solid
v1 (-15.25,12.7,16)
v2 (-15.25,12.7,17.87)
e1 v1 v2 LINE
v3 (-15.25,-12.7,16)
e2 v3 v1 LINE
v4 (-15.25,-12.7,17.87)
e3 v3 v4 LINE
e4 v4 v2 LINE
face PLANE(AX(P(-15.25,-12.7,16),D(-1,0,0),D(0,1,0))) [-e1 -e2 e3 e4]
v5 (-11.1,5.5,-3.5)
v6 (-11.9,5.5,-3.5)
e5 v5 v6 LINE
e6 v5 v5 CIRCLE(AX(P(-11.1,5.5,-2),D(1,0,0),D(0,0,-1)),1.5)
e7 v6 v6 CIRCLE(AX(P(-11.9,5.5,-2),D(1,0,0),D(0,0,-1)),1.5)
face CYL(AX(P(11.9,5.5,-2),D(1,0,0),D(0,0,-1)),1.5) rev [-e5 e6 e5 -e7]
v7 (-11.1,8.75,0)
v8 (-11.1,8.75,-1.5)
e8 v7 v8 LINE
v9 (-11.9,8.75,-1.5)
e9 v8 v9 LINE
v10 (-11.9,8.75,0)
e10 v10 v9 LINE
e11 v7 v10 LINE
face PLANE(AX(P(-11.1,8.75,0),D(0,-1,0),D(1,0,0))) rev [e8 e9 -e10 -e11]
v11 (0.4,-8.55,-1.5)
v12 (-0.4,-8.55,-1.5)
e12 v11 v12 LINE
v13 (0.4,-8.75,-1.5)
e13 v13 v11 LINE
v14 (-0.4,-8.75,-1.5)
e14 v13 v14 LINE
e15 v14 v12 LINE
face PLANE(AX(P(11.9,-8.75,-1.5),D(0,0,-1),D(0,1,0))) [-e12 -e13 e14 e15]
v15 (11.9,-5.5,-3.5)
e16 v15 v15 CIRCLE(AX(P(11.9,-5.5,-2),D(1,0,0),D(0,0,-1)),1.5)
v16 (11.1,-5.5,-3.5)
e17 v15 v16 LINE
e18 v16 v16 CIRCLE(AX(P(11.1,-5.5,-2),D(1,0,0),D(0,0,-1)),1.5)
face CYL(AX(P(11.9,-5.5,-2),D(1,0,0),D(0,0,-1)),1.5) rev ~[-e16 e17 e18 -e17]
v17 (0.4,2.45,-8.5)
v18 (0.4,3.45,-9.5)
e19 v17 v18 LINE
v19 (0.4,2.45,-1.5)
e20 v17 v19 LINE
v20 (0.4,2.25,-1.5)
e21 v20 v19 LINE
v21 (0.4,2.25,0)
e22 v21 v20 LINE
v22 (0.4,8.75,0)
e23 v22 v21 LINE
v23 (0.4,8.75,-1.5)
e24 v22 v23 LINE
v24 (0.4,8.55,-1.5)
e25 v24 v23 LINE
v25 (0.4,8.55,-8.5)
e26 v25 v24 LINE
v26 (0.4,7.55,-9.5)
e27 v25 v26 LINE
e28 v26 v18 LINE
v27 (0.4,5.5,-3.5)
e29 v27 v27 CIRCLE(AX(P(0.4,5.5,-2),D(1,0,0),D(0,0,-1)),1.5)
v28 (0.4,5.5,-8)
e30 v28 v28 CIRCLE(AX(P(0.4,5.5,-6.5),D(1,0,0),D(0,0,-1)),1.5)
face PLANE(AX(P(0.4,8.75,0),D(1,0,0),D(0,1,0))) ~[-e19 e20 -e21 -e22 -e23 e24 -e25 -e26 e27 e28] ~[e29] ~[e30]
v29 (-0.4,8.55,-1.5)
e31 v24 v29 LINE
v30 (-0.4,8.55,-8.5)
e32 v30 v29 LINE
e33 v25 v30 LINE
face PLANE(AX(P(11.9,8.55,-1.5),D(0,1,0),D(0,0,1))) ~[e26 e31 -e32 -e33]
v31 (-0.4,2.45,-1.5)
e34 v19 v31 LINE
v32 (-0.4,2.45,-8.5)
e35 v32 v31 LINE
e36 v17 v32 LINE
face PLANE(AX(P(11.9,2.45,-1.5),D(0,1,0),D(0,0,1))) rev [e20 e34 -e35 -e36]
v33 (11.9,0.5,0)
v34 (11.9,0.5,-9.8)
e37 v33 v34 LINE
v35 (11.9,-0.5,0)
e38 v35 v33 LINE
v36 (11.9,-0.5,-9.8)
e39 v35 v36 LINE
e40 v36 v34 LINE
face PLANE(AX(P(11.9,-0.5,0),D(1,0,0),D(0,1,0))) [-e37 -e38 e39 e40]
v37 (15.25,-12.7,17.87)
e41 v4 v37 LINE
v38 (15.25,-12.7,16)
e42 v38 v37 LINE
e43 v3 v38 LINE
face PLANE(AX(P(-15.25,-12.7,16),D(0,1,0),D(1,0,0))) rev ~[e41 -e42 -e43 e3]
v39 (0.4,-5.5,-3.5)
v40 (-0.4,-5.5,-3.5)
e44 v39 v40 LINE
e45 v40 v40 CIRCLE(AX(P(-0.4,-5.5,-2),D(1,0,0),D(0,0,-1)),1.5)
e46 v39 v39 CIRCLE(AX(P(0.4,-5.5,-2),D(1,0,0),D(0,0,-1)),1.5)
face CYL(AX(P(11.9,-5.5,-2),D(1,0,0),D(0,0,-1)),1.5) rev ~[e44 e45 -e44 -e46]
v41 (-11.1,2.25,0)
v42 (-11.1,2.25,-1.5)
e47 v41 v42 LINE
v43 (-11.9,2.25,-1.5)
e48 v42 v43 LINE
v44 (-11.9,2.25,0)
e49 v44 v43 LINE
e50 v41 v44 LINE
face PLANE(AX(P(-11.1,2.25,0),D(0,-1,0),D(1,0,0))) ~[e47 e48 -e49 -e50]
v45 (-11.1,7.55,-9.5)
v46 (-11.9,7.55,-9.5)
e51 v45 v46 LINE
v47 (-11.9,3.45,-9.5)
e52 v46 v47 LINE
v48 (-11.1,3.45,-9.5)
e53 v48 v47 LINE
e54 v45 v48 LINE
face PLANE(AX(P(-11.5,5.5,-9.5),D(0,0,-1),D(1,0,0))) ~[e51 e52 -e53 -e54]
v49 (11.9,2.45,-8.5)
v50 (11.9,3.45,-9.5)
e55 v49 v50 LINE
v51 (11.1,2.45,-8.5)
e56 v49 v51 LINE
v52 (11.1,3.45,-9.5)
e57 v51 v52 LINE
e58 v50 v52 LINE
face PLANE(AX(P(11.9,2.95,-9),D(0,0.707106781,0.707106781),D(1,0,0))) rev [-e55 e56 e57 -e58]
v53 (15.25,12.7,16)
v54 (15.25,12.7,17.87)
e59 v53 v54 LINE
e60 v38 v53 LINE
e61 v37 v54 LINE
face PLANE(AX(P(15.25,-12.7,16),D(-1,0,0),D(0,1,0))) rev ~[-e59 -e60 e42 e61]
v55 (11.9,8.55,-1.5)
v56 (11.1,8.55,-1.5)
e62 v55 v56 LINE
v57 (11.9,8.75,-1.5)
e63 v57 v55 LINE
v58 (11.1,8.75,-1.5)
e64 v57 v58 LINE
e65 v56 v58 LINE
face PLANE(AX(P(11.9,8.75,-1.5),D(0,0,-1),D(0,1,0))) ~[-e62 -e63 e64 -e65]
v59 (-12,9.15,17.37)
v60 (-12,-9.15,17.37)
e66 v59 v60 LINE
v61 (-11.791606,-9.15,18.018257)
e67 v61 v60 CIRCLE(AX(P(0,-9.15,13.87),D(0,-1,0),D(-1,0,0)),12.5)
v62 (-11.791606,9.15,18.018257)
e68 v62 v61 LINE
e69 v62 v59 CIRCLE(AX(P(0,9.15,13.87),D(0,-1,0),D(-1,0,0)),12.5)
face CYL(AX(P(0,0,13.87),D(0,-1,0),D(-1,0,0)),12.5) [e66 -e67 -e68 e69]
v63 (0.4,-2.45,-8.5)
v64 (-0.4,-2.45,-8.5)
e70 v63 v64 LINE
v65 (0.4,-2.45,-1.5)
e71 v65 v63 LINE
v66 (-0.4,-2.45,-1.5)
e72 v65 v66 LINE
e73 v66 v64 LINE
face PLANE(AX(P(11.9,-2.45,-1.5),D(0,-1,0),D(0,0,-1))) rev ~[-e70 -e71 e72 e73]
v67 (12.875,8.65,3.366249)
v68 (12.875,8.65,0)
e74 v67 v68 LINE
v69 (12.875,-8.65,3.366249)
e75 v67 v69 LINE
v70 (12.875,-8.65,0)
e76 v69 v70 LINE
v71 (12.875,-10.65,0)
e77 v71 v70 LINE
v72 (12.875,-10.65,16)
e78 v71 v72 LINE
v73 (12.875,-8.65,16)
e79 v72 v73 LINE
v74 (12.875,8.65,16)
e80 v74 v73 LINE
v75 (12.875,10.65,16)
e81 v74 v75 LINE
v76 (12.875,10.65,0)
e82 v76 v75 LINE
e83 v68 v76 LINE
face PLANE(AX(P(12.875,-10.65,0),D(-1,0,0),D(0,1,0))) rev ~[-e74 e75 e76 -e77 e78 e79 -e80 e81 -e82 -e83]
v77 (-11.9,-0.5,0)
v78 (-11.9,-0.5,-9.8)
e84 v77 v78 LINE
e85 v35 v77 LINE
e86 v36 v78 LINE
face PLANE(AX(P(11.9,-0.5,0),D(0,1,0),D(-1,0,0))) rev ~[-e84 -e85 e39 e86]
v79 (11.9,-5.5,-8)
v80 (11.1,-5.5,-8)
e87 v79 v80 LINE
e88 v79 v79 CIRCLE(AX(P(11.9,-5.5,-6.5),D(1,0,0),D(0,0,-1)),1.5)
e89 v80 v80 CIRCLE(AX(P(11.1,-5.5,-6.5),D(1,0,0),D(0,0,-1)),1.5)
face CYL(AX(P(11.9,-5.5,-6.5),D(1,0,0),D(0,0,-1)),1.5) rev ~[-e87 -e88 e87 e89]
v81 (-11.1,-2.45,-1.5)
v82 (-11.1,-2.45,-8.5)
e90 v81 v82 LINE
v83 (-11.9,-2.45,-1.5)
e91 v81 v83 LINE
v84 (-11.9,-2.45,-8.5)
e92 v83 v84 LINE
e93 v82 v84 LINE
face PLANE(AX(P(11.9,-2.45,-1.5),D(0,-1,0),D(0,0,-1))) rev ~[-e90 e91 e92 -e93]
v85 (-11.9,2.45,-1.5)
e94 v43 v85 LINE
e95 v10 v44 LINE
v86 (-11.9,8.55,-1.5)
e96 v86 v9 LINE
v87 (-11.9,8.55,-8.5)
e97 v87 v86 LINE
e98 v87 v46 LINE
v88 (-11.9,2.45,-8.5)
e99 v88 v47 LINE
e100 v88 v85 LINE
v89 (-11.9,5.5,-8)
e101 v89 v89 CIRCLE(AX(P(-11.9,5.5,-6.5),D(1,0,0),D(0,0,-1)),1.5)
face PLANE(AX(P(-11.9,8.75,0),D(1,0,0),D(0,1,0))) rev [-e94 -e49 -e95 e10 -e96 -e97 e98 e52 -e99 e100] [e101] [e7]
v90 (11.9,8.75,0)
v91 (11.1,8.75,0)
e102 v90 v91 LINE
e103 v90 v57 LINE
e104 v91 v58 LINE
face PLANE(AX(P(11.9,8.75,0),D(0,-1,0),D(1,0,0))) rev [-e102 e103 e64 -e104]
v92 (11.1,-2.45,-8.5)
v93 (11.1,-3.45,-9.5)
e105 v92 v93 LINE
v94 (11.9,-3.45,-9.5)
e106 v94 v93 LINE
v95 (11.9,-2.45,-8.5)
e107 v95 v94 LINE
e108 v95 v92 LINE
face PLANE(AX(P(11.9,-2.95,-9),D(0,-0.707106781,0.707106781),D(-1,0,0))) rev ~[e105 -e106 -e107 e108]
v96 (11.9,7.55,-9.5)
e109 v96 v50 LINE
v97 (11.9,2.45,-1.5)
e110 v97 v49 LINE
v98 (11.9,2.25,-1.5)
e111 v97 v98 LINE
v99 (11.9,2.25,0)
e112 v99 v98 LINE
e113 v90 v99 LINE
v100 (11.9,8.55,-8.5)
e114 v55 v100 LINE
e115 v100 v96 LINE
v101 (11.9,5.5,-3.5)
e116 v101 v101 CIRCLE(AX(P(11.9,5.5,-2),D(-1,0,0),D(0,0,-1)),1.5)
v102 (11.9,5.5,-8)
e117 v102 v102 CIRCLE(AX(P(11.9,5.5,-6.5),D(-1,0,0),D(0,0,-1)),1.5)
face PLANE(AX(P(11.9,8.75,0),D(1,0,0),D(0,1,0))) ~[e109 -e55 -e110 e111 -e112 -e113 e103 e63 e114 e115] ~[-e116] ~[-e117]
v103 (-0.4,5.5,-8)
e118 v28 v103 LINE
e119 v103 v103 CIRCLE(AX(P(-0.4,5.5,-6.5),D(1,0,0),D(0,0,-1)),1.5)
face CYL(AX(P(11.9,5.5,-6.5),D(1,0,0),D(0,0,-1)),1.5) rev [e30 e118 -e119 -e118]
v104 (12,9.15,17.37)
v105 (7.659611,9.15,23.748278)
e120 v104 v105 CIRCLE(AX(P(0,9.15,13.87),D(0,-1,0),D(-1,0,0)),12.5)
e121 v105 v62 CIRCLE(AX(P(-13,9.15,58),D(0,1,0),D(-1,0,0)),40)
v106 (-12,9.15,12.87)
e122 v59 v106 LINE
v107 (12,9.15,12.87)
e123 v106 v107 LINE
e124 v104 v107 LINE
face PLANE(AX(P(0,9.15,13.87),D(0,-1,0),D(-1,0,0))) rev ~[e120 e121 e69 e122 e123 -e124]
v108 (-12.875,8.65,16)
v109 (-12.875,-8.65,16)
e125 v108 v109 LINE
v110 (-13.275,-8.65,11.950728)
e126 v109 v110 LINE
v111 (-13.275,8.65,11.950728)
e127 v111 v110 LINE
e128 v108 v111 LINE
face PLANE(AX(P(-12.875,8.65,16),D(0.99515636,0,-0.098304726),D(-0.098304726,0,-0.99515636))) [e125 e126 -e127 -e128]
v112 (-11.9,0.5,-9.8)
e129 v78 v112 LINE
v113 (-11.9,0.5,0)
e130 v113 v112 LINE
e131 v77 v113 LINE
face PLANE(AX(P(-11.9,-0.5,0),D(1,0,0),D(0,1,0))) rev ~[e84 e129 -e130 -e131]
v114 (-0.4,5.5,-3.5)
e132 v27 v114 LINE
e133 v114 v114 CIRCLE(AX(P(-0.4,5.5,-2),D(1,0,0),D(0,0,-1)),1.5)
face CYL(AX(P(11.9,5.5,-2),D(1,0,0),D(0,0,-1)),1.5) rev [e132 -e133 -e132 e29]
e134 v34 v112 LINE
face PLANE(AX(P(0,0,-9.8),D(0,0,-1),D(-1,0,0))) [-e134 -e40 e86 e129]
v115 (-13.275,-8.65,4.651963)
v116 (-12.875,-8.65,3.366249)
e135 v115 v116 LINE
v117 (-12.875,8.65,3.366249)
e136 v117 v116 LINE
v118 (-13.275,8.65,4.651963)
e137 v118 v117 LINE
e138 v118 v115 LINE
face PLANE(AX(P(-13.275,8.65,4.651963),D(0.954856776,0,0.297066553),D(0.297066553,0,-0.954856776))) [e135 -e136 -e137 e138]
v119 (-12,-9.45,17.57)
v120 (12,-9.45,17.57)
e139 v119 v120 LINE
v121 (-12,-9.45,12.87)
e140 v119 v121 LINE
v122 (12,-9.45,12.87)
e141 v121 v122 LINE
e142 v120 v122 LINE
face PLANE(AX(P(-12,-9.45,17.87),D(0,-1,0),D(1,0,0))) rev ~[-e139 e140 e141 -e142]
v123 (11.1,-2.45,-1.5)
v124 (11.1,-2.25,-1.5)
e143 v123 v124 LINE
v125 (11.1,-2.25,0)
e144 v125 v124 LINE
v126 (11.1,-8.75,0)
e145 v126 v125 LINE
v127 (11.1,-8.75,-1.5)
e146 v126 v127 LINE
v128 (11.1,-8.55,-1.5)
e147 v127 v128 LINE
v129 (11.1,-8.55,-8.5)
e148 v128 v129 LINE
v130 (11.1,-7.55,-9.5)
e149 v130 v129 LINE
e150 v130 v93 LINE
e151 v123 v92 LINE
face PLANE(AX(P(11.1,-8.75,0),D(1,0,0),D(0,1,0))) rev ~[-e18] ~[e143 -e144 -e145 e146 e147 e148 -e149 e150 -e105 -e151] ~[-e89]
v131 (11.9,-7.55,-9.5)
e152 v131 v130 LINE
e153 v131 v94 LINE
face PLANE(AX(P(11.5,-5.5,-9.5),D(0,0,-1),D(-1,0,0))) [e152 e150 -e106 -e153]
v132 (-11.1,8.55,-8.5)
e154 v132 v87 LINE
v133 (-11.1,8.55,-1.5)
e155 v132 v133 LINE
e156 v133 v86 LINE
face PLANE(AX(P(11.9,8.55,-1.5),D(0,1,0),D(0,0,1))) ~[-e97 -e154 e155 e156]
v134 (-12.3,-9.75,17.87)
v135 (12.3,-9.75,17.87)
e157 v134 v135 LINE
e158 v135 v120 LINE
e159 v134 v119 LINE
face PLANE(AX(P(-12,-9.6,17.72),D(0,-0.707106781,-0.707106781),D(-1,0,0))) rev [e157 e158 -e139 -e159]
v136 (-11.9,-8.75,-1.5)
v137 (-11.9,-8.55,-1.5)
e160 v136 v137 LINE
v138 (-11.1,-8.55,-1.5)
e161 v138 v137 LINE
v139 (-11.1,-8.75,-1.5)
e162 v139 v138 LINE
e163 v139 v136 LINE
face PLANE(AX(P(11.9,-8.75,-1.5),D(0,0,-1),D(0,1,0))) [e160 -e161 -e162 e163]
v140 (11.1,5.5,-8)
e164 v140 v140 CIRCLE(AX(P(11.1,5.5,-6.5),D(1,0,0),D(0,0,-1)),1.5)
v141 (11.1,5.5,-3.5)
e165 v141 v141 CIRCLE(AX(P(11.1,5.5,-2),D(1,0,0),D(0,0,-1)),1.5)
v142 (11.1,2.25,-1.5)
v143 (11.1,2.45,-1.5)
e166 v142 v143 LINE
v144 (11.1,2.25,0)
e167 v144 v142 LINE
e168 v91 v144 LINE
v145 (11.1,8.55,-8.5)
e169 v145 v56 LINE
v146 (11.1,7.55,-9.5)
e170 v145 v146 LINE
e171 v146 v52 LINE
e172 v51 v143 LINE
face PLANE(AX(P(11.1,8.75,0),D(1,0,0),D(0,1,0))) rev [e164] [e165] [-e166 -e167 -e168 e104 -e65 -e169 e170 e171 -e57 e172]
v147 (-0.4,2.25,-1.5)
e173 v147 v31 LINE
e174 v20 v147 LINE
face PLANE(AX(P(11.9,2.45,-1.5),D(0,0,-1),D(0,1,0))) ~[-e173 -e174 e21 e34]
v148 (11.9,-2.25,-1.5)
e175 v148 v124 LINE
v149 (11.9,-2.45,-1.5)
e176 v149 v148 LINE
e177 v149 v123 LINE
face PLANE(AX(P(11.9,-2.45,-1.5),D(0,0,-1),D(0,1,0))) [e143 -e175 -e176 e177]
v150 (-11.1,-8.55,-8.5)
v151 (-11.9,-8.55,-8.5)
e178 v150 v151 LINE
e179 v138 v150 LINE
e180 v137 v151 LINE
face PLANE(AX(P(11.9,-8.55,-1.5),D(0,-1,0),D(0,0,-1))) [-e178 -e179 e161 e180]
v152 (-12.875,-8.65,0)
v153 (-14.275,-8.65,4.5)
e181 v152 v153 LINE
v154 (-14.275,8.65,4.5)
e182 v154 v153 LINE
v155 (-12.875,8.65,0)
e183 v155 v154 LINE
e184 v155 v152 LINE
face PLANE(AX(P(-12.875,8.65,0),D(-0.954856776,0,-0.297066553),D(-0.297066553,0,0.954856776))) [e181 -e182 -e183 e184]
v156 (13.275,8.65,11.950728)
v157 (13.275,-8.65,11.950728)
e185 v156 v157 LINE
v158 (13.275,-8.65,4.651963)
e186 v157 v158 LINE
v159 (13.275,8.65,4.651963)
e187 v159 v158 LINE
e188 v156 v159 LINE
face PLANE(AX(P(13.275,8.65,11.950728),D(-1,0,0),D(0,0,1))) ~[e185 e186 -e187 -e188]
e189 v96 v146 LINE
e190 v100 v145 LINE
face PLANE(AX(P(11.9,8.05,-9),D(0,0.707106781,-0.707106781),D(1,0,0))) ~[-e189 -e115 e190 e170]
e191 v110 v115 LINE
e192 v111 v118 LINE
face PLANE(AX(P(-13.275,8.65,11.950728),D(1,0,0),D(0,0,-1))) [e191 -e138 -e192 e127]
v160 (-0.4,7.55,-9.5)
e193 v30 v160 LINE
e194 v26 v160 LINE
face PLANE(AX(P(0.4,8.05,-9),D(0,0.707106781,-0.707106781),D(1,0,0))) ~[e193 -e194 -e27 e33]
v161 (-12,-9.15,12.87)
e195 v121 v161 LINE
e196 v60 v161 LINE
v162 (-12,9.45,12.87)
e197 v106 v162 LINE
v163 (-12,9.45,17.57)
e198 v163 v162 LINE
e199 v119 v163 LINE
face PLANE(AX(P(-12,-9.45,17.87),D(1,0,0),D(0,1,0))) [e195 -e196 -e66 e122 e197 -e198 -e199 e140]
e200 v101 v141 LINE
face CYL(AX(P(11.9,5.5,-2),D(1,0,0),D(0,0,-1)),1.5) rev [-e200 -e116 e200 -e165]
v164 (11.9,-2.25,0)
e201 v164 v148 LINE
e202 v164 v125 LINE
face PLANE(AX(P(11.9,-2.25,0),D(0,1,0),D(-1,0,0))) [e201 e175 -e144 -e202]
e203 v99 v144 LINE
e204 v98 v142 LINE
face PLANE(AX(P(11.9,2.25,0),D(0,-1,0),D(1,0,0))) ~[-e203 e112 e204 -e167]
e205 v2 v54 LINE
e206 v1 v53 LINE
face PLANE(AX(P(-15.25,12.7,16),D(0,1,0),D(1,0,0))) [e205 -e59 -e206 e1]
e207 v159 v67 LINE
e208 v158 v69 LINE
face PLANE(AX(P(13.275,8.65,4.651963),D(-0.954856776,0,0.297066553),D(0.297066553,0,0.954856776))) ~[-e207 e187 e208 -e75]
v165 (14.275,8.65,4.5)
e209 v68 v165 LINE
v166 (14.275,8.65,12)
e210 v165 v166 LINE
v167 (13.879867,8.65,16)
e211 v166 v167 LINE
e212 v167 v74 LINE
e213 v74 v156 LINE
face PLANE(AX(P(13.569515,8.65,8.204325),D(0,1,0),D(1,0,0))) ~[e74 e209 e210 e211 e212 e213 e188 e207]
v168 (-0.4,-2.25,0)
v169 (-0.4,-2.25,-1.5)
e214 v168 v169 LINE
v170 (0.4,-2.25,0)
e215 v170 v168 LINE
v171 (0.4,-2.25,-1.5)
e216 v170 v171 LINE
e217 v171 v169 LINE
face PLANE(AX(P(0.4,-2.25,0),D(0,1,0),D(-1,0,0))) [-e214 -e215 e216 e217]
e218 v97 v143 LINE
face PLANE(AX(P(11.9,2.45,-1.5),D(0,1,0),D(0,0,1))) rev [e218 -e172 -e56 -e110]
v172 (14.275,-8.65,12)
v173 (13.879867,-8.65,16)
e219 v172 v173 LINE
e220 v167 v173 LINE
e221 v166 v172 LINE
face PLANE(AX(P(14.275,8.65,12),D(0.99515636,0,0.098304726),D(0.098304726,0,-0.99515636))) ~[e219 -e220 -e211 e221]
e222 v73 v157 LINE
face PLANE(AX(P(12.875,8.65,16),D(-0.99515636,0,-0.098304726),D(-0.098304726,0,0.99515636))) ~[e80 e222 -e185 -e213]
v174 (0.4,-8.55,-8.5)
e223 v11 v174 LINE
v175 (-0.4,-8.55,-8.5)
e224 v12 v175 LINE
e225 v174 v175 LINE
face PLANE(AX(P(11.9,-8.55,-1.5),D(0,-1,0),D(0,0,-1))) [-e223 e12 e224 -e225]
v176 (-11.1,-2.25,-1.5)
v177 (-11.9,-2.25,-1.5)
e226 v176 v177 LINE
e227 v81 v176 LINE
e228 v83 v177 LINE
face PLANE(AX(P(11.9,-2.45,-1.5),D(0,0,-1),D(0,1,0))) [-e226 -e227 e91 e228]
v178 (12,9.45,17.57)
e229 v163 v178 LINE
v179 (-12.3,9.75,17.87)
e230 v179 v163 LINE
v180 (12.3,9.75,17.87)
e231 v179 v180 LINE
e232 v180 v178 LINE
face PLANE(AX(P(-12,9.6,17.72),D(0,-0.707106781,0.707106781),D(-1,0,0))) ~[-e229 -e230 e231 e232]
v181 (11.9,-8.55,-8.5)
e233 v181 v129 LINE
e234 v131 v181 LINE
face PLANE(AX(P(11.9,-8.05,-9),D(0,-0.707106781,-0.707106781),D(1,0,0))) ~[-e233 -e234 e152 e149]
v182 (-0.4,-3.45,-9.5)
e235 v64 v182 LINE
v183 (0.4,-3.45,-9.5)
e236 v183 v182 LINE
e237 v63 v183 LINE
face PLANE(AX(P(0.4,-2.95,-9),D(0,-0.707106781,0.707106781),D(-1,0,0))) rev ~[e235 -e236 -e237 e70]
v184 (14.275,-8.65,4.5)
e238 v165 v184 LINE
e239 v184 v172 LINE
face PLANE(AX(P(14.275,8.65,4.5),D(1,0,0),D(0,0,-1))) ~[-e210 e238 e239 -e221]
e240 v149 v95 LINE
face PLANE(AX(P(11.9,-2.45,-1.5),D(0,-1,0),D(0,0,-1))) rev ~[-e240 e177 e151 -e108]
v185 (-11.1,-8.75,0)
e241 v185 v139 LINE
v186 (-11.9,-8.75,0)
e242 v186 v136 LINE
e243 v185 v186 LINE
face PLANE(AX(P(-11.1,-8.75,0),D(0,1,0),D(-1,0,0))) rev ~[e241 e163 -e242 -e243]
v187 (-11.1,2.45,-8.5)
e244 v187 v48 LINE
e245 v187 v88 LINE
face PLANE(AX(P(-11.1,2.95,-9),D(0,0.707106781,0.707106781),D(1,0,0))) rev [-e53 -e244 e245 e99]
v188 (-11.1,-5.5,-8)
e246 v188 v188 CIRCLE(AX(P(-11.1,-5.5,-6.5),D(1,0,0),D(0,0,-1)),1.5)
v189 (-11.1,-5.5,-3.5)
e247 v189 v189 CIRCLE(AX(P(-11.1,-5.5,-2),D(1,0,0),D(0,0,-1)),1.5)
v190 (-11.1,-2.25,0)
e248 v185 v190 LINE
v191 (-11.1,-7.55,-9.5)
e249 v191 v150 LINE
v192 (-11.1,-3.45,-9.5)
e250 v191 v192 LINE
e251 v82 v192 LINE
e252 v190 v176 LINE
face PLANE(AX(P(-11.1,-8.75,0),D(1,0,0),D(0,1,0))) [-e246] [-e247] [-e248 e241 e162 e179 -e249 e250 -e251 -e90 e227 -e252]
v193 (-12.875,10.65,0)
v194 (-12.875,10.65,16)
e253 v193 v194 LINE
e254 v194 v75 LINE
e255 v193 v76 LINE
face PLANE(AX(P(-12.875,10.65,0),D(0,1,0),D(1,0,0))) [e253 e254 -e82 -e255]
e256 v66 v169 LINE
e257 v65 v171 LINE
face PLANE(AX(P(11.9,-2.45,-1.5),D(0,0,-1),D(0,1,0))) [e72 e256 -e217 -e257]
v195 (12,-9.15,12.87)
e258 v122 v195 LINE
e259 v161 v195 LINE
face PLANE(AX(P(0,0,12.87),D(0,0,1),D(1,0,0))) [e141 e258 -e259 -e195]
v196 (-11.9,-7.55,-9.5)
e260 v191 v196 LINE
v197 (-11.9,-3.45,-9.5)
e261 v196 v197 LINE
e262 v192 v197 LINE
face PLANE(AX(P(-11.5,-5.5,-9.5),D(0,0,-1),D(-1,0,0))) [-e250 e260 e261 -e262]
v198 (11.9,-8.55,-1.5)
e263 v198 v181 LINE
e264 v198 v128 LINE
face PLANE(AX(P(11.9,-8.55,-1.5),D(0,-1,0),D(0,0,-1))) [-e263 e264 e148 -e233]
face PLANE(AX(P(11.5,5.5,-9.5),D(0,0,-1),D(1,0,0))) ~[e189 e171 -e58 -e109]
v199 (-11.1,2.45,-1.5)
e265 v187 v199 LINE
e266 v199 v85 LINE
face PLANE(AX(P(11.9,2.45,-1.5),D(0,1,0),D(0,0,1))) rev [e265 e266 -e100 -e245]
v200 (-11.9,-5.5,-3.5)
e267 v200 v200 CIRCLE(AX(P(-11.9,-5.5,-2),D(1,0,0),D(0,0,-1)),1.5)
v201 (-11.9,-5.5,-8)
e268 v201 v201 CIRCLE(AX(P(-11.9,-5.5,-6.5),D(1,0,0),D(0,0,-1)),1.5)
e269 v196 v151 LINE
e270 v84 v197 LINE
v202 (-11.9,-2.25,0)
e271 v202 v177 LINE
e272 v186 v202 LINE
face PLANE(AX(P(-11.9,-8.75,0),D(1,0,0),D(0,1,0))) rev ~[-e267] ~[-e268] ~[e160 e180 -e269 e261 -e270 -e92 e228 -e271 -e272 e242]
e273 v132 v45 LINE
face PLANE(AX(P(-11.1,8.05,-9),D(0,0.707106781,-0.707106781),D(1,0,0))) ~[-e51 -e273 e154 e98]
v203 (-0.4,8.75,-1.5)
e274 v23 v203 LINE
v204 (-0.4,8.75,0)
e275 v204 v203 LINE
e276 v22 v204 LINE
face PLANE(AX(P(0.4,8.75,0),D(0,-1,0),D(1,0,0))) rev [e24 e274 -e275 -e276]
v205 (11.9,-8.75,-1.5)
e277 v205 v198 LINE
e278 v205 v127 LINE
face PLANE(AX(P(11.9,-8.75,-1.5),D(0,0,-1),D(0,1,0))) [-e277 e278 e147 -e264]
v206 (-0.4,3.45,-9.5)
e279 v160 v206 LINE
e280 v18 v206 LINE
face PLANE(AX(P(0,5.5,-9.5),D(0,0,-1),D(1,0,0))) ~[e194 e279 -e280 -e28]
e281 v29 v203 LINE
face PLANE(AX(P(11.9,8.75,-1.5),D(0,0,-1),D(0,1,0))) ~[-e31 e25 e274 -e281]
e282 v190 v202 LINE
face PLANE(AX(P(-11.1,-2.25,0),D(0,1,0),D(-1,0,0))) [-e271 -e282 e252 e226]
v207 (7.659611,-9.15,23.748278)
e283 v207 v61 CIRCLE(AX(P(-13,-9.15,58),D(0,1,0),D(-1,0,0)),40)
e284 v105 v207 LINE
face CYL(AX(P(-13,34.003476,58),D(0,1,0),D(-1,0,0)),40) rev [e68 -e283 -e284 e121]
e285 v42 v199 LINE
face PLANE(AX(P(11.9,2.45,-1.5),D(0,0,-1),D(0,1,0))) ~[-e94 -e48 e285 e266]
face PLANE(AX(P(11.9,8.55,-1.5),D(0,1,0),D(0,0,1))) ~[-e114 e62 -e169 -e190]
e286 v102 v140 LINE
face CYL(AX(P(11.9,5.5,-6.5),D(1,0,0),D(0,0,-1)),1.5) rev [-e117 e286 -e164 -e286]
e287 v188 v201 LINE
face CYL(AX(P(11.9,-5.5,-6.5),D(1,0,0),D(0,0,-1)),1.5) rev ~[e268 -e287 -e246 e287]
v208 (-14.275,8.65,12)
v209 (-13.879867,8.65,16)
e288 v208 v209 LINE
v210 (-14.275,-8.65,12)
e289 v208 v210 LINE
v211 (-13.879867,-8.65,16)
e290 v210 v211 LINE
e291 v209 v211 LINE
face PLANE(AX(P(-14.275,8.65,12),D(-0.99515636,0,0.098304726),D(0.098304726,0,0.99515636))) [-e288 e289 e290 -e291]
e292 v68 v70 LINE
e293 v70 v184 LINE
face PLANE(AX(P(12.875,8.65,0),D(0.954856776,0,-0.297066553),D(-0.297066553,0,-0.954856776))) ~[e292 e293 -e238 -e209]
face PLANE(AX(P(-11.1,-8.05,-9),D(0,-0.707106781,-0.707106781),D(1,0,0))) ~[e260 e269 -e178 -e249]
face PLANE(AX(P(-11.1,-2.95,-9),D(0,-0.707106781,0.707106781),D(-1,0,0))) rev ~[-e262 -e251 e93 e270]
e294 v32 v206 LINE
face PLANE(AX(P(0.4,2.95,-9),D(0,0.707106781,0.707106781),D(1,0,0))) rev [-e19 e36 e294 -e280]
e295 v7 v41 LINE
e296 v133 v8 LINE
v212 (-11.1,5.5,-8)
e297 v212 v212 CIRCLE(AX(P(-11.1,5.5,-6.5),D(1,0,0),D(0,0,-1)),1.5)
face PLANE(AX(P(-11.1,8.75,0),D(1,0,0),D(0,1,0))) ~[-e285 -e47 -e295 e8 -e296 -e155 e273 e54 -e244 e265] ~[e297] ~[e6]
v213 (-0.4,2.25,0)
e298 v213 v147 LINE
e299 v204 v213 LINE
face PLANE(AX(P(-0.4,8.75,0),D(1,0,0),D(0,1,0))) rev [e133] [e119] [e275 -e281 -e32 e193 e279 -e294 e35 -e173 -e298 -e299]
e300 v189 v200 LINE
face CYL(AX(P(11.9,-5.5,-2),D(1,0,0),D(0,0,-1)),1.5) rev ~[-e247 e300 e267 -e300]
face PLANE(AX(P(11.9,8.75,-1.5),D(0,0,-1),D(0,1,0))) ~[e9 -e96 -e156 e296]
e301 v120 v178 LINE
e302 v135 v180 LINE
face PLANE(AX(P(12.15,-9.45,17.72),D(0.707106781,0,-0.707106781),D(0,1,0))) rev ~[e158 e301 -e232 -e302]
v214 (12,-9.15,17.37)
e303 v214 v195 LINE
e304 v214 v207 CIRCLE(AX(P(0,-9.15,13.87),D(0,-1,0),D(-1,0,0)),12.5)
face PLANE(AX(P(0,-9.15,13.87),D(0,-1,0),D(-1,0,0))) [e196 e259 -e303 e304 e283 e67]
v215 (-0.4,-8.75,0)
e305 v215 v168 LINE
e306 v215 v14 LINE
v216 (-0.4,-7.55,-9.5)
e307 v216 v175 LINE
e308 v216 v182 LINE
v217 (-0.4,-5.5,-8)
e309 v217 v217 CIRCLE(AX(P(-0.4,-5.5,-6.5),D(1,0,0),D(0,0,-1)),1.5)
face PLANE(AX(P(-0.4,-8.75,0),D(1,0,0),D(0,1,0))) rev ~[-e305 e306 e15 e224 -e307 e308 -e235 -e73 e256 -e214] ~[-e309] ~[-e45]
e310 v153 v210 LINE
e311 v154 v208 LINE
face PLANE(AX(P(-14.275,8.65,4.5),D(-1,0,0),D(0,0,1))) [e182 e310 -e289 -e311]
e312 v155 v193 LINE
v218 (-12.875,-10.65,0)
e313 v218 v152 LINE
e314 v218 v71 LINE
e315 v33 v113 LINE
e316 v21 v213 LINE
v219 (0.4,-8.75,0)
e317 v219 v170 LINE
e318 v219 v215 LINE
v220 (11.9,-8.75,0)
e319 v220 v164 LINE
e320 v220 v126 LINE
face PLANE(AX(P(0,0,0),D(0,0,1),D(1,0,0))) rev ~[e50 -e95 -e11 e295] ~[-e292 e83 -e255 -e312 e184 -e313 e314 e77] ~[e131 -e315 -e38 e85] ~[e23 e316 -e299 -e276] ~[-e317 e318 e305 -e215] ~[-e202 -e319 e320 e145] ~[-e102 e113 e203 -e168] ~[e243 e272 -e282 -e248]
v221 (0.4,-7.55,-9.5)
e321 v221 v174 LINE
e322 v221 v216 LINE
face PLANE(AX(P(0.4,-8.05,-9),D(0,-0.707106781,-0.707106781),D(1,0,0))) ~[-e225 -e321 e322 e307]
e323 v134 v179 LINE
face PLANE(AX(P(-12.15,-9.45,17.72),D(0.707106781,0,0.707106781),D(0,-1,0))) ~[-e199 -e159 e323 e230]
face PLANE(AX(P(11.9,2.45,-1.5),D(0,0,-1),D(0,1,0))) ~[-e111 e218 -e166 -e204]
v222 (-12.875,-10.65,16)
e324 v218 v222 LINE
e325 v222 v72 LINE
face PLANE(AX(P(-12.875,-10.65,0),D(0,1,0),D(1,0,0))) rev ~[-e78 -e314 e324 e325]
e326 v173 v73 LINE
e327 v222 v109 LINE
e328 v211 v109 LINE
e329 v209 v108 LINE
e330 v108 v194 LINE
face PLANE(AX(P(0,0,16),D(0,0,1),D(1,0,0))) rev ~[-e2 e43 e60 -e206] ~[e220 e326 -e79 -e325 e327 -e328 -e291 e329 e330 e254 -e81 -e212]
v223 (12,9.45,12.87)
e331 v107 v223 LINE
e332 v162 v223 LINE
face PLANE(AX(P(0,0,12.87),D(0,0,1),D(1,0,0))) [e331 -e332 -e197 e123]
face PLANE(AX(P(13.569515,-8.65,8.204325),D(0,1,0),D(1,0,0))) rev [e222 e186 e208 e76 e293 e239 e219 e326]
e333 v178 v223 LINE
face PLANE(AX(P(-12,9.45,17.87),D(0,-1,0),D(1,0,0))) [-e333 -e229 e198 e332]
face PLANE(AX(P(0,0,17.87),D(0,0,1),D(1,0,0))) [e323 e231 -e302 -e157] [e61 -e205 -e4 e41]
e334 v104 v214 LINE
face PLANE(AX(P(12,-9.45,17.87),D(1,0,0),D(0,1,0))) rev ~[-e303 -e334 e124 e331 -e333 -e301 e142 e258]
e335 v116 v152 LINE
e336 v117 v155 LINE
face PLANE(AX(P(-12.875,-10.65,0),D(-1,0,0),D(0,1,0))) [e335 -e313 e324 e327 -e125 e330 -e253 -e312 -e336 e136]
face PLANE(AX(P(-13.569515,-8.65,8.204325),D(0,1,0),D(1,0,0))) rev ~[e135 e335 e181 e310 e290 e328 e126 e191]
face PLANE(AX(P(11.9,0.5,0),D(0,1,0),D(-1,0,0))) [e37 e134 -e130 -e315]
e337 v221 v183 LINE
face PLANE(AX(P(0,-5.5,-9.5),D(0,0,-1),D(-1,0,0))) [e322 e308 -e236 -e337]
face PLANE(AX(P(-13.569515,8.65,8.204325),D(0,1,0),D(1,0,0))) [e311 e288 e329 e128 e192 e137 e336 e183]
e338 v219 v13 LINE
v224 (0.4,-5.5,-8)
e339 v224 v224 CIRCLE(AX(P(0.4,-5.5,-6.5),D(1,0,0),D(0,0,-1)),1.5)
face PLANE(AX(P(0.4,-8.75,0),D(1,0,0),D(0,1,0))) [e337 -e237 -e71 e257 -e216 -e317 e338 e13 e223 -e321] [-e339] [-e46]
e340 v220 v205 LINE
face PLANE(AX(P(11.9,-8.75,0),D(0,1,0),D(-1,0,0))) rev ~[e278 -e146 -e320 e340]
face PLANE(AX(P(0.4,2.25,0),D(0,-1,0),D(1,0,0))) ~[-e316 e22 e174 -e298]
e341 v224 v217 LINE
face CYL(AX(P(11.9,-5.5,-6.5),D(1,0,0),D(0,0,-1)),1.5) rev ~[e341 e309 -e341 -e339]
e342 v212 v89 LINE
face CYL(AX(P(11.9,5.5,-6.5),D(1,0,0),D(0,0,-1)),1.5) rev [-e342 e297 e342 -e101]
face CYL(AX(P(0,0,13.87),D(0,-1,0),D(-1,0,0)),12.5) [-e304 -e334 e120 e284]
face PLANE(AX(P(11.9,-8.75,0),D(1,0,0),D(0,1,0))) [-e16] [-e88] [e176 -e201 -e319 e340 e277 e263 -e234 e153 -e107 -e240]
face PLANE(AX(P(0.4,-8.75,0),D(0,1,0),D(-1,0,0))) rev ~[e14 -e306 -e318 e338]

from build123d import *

# Parameters (mm, degrees)
SKETCH1_W                = 25.75
SKETCH1_H                = 21.3
BOSS_EXTRUDE1_DEPTH      = 16
SKETCH3_W                = 30.5
SKETCH3_H                = 25.4
BOSS_EXTRUDE3_DEPTH      = 1.87
SKETCH4_W                = 23.8
SKETCH4_H                = 1
BOSS_EXTRUDE4_DEPTH      = 9.8
SKETCH5_W                = 0.8
SKETCH5_H                = 6.5
BOSS_EXTRUDE5_DEPTH      = 9.5
SKETCH6_W                = 8
SKETCH6_H                = 0.2
CUT_EXTRUDE1_DEPTH       = 35.896266276
CHAMFER1_SIZE            = 1
SKETCH7_R                = 1.5
CUT_EXTRUDE2_DEPTH       = 35.896266276
CHAMFER1_OF_MIRROR1_SIZE = 1
BOSS_EXTRUDE6_START      = -2
BOSS_EXTRUDE6_DEPTH      = 17.3
SKETCH9_W                = 24
SKETCH9_H                = 18.9
CUT_EXTRUDE3_DEPTH       = 5
SKETCH10_R               = 12.5
BOSS_EXTRUDE7_DEPTH      = 9.15
CUT_EXTRUDE4_DEPTH       = 34.003475575
CUT_EXTRUDE4_DEPTH_BACK  = 34.003475575
SKETCH11_R               = 40
CHAMFER2_SIZE            = 0.3


with BuildPart() as part:
    # Sketch1 → Boss-Extrude1 (new body)
    with BuildSketch(Plane.XY):
        Rectangle(SKETCH1_W, SKETCH1_H)
    extrude(amount=BOSS_EXTRUDE1_DEPTH)

    # Sketch3 → Boss-Extrude3 (add)
    with BuildSketch(Plane.XY.offset(16)):
        Rectangle(SKETCH3_W, SKETCH3_H)
    extrude(amount=BOSS_EXTRUDE3_DEPTH)

    # Sketch4 → Boss-Extrude4 (add)
    with BuildSketch(Plane(origin=(0, 0, 0), x_dir=(-1, 0, 0), z_dir=(0, 0, -1))):
        Rectangle(SKETCH4_W, SKETCH4_H)
    extrude(amount=BOSS_EXTRUDE4_DEPTH)

    # Sketch5 → Boss-Extrude5 (add)
    with BuildSketch(Plane(origin=(0, 0, 0), x_dir=(-1, 0, 0), z_dir=(0, 0, -1))):
        with Locations((11.5, -5.5)):
            Rectangle(SKETCH5_W, SKETCH5_H)
        with Locations((0, -5.5)):
            Rectangle(SKETCH5_W, SKETCH5_H)
        with Locations((-11.5, -5.5)):
            Rectangle(SKETCH5_W, SKETCH5_H)
    boss_extrude5 = extrude(amount=BOSS_EXTRUDE5_DEPTH)

    # Sketch6 → Cut-Extrude1 (cut, through all)
    with BuildSketch(Plane(origin=(11.9, 0, 0), x_dir=(0, 0, -1), z_dir=(1, 0, 0))):
        with Locations((5.5, -2.35)):
            Rectangle(SKETCH6_W, SKETCH6_H)
        with Locations((5.5, -8.65)):
            Rectangle(SKETCH6_W, SKETCH6_H)
    cut_extrude1 = extrude(amount=-CUT_EXTRUDE1_DEPTH, mode=Mode.SUBTRACT)

    # Chamfer1
    chamfer1_edges = [part.edges().sort_by_distance(p)[0] for p in [
        (-11.5, -2.45, -9.5),
        (0, -2.45, -9.5),
        (-11.5, -8.55, -9.5),
        (0, -8.55, -9.5),
        (11.5, -8.55, -9.5),
        (11.5, -2.45, -9.5),
    ]]
    chamfer(chamfer1_edges, length=CHAMFER1_SIZE)

    # Sketch7 → Cut-Extrude2 (cut, through all)
    with BuildSketch(Plane(origin=(11.9, 0, 0), x_dir=(0, 0, -1), z_dir=(1, 0, 0))):
        with Locations((6.5, -5.5)):
            Circle(SKETCH7_R)
        with Locations((2, -5.5)):
            Circle(SKETCH7_R)
    cut_extrude2 = extrude(amount=-CUT_EXTRUDE2_DEPTH, mode=Mode.SUBTRACT)

    # Mirror1: Boss-Extrude5, Cut-Extrude1, Cut-Extrude2 across plane
    add(boss_extrude5.mirror(Plane(origin=(0, 0, 0), x_dir=(0, 0, 1), z_dir=(0, -1, 0))))
    add(cut_extrude1.mirror(Plane(origin=(0, 0, 0), x_dir=(0, 0, 1), z_dir=(0, -1, 0))), mode=Mode.SUBTRACT)
    add(cut_extrude2.mirror(Plane(origin=(0, 0, 0), x_dir=(0, 0, 1), z_dir=(0, -1, 0))), mode=Mode.SUBTRACT)

    # Chamfer1 of Mirror1
    chamfer1_of_mirror1_edges = [part.edges().sort_by_distance(p)[0] for p in [
        (-11.5, 2.45, -9.5),
        (0, 2.45, -9.5),
        (-11.5, 8.55, -9.5),
        (0, 8.55, -9.5),
        (11.5, 8.55, -9.5),
        (11.5, 2.45, -9.5),
    ]]
    chamfer(chamfer1_of_mirror1_edges, length=CHAMFER1_OF_MIRROR1_SIZE)

    # Sketch8 → Boss-Extrude6 (add)
    with BuildSketch(Plane(origin=(0, 10.65, 0), x_dir=(1, 0, 0), z_dir=(0, 1, 0)).offset(BOSS_EXTRUDE6_START)):
        Polygon((-12.875, 0), (-14.275, -4.5), (-14.275, -12), (-13.879867215, -16), (-12.875, -16), (-13.275, -11.95072831), (-13.275, -4.651963334), (-12.875, -3.366249048), align=None)
    boss_extrude6 = extrude(amount=-BOSS_EXTRUDE6_DEPTH)

    # Mirror2: Boss-Extrude6 across plane
    add(boss_extrude6.mirror(Plane.ZY))

    # Sketch9 → Cut-Extrude3 (cut)
    with BuildSketch(Plane.XY.offset(17.87)):
        Rectangle(SKETCH9_W, SKETCH9_H)
    extrude(amount=-CUT_EXTRUDE3_DEPTH, mode=Mode.SUBTRACT)

    # Sketch10 → Boss-Extrude7 (add, symmetric)
    with BuildSketch(Plane(origin=(0, 0, 0), x_dir=(-1, 0, 0), z_dir=(0, -1, 0))):
        with Locations((0, -13.87)):
            Circle(SKETCH10_R)
    extrude(amount=BOSS_EXTRUDE7_DEPTH, both=True)

    # Sketch11 → Cut-Extrude4 (cut, two sides: drawn at the far end of the back side and taken through both)
    with BuildSketch(Plane(origin=(0, 0, 0), x_dir=(-1, 0, 0), z_dir=(0, -1, 0)).offset(-CUT_EXTRUDE4_DEPTH_BACK)):
        with Locations((13, -58)):
            Circle(SKETCH11_R)
    extrude(amount=CUT_EXTRUDE4_DEPTH + CUT_EXTRUDE4_DEPTH_BACK, mode=Mode.SUBTRACT)

    # Chamfer2
    chamfer2_edges = [part.edges().sort_by_distance(p)[0] for p in [
        (-12, 0, 17.87),
        (0, 9.45, 17.87),
        (0, -9.45, 17.87),
        (12, 0, 17.87),
    ]]
    chamfer(chamfer2_edges, length=CHAMFER2_SIZE)


solid = part.part
